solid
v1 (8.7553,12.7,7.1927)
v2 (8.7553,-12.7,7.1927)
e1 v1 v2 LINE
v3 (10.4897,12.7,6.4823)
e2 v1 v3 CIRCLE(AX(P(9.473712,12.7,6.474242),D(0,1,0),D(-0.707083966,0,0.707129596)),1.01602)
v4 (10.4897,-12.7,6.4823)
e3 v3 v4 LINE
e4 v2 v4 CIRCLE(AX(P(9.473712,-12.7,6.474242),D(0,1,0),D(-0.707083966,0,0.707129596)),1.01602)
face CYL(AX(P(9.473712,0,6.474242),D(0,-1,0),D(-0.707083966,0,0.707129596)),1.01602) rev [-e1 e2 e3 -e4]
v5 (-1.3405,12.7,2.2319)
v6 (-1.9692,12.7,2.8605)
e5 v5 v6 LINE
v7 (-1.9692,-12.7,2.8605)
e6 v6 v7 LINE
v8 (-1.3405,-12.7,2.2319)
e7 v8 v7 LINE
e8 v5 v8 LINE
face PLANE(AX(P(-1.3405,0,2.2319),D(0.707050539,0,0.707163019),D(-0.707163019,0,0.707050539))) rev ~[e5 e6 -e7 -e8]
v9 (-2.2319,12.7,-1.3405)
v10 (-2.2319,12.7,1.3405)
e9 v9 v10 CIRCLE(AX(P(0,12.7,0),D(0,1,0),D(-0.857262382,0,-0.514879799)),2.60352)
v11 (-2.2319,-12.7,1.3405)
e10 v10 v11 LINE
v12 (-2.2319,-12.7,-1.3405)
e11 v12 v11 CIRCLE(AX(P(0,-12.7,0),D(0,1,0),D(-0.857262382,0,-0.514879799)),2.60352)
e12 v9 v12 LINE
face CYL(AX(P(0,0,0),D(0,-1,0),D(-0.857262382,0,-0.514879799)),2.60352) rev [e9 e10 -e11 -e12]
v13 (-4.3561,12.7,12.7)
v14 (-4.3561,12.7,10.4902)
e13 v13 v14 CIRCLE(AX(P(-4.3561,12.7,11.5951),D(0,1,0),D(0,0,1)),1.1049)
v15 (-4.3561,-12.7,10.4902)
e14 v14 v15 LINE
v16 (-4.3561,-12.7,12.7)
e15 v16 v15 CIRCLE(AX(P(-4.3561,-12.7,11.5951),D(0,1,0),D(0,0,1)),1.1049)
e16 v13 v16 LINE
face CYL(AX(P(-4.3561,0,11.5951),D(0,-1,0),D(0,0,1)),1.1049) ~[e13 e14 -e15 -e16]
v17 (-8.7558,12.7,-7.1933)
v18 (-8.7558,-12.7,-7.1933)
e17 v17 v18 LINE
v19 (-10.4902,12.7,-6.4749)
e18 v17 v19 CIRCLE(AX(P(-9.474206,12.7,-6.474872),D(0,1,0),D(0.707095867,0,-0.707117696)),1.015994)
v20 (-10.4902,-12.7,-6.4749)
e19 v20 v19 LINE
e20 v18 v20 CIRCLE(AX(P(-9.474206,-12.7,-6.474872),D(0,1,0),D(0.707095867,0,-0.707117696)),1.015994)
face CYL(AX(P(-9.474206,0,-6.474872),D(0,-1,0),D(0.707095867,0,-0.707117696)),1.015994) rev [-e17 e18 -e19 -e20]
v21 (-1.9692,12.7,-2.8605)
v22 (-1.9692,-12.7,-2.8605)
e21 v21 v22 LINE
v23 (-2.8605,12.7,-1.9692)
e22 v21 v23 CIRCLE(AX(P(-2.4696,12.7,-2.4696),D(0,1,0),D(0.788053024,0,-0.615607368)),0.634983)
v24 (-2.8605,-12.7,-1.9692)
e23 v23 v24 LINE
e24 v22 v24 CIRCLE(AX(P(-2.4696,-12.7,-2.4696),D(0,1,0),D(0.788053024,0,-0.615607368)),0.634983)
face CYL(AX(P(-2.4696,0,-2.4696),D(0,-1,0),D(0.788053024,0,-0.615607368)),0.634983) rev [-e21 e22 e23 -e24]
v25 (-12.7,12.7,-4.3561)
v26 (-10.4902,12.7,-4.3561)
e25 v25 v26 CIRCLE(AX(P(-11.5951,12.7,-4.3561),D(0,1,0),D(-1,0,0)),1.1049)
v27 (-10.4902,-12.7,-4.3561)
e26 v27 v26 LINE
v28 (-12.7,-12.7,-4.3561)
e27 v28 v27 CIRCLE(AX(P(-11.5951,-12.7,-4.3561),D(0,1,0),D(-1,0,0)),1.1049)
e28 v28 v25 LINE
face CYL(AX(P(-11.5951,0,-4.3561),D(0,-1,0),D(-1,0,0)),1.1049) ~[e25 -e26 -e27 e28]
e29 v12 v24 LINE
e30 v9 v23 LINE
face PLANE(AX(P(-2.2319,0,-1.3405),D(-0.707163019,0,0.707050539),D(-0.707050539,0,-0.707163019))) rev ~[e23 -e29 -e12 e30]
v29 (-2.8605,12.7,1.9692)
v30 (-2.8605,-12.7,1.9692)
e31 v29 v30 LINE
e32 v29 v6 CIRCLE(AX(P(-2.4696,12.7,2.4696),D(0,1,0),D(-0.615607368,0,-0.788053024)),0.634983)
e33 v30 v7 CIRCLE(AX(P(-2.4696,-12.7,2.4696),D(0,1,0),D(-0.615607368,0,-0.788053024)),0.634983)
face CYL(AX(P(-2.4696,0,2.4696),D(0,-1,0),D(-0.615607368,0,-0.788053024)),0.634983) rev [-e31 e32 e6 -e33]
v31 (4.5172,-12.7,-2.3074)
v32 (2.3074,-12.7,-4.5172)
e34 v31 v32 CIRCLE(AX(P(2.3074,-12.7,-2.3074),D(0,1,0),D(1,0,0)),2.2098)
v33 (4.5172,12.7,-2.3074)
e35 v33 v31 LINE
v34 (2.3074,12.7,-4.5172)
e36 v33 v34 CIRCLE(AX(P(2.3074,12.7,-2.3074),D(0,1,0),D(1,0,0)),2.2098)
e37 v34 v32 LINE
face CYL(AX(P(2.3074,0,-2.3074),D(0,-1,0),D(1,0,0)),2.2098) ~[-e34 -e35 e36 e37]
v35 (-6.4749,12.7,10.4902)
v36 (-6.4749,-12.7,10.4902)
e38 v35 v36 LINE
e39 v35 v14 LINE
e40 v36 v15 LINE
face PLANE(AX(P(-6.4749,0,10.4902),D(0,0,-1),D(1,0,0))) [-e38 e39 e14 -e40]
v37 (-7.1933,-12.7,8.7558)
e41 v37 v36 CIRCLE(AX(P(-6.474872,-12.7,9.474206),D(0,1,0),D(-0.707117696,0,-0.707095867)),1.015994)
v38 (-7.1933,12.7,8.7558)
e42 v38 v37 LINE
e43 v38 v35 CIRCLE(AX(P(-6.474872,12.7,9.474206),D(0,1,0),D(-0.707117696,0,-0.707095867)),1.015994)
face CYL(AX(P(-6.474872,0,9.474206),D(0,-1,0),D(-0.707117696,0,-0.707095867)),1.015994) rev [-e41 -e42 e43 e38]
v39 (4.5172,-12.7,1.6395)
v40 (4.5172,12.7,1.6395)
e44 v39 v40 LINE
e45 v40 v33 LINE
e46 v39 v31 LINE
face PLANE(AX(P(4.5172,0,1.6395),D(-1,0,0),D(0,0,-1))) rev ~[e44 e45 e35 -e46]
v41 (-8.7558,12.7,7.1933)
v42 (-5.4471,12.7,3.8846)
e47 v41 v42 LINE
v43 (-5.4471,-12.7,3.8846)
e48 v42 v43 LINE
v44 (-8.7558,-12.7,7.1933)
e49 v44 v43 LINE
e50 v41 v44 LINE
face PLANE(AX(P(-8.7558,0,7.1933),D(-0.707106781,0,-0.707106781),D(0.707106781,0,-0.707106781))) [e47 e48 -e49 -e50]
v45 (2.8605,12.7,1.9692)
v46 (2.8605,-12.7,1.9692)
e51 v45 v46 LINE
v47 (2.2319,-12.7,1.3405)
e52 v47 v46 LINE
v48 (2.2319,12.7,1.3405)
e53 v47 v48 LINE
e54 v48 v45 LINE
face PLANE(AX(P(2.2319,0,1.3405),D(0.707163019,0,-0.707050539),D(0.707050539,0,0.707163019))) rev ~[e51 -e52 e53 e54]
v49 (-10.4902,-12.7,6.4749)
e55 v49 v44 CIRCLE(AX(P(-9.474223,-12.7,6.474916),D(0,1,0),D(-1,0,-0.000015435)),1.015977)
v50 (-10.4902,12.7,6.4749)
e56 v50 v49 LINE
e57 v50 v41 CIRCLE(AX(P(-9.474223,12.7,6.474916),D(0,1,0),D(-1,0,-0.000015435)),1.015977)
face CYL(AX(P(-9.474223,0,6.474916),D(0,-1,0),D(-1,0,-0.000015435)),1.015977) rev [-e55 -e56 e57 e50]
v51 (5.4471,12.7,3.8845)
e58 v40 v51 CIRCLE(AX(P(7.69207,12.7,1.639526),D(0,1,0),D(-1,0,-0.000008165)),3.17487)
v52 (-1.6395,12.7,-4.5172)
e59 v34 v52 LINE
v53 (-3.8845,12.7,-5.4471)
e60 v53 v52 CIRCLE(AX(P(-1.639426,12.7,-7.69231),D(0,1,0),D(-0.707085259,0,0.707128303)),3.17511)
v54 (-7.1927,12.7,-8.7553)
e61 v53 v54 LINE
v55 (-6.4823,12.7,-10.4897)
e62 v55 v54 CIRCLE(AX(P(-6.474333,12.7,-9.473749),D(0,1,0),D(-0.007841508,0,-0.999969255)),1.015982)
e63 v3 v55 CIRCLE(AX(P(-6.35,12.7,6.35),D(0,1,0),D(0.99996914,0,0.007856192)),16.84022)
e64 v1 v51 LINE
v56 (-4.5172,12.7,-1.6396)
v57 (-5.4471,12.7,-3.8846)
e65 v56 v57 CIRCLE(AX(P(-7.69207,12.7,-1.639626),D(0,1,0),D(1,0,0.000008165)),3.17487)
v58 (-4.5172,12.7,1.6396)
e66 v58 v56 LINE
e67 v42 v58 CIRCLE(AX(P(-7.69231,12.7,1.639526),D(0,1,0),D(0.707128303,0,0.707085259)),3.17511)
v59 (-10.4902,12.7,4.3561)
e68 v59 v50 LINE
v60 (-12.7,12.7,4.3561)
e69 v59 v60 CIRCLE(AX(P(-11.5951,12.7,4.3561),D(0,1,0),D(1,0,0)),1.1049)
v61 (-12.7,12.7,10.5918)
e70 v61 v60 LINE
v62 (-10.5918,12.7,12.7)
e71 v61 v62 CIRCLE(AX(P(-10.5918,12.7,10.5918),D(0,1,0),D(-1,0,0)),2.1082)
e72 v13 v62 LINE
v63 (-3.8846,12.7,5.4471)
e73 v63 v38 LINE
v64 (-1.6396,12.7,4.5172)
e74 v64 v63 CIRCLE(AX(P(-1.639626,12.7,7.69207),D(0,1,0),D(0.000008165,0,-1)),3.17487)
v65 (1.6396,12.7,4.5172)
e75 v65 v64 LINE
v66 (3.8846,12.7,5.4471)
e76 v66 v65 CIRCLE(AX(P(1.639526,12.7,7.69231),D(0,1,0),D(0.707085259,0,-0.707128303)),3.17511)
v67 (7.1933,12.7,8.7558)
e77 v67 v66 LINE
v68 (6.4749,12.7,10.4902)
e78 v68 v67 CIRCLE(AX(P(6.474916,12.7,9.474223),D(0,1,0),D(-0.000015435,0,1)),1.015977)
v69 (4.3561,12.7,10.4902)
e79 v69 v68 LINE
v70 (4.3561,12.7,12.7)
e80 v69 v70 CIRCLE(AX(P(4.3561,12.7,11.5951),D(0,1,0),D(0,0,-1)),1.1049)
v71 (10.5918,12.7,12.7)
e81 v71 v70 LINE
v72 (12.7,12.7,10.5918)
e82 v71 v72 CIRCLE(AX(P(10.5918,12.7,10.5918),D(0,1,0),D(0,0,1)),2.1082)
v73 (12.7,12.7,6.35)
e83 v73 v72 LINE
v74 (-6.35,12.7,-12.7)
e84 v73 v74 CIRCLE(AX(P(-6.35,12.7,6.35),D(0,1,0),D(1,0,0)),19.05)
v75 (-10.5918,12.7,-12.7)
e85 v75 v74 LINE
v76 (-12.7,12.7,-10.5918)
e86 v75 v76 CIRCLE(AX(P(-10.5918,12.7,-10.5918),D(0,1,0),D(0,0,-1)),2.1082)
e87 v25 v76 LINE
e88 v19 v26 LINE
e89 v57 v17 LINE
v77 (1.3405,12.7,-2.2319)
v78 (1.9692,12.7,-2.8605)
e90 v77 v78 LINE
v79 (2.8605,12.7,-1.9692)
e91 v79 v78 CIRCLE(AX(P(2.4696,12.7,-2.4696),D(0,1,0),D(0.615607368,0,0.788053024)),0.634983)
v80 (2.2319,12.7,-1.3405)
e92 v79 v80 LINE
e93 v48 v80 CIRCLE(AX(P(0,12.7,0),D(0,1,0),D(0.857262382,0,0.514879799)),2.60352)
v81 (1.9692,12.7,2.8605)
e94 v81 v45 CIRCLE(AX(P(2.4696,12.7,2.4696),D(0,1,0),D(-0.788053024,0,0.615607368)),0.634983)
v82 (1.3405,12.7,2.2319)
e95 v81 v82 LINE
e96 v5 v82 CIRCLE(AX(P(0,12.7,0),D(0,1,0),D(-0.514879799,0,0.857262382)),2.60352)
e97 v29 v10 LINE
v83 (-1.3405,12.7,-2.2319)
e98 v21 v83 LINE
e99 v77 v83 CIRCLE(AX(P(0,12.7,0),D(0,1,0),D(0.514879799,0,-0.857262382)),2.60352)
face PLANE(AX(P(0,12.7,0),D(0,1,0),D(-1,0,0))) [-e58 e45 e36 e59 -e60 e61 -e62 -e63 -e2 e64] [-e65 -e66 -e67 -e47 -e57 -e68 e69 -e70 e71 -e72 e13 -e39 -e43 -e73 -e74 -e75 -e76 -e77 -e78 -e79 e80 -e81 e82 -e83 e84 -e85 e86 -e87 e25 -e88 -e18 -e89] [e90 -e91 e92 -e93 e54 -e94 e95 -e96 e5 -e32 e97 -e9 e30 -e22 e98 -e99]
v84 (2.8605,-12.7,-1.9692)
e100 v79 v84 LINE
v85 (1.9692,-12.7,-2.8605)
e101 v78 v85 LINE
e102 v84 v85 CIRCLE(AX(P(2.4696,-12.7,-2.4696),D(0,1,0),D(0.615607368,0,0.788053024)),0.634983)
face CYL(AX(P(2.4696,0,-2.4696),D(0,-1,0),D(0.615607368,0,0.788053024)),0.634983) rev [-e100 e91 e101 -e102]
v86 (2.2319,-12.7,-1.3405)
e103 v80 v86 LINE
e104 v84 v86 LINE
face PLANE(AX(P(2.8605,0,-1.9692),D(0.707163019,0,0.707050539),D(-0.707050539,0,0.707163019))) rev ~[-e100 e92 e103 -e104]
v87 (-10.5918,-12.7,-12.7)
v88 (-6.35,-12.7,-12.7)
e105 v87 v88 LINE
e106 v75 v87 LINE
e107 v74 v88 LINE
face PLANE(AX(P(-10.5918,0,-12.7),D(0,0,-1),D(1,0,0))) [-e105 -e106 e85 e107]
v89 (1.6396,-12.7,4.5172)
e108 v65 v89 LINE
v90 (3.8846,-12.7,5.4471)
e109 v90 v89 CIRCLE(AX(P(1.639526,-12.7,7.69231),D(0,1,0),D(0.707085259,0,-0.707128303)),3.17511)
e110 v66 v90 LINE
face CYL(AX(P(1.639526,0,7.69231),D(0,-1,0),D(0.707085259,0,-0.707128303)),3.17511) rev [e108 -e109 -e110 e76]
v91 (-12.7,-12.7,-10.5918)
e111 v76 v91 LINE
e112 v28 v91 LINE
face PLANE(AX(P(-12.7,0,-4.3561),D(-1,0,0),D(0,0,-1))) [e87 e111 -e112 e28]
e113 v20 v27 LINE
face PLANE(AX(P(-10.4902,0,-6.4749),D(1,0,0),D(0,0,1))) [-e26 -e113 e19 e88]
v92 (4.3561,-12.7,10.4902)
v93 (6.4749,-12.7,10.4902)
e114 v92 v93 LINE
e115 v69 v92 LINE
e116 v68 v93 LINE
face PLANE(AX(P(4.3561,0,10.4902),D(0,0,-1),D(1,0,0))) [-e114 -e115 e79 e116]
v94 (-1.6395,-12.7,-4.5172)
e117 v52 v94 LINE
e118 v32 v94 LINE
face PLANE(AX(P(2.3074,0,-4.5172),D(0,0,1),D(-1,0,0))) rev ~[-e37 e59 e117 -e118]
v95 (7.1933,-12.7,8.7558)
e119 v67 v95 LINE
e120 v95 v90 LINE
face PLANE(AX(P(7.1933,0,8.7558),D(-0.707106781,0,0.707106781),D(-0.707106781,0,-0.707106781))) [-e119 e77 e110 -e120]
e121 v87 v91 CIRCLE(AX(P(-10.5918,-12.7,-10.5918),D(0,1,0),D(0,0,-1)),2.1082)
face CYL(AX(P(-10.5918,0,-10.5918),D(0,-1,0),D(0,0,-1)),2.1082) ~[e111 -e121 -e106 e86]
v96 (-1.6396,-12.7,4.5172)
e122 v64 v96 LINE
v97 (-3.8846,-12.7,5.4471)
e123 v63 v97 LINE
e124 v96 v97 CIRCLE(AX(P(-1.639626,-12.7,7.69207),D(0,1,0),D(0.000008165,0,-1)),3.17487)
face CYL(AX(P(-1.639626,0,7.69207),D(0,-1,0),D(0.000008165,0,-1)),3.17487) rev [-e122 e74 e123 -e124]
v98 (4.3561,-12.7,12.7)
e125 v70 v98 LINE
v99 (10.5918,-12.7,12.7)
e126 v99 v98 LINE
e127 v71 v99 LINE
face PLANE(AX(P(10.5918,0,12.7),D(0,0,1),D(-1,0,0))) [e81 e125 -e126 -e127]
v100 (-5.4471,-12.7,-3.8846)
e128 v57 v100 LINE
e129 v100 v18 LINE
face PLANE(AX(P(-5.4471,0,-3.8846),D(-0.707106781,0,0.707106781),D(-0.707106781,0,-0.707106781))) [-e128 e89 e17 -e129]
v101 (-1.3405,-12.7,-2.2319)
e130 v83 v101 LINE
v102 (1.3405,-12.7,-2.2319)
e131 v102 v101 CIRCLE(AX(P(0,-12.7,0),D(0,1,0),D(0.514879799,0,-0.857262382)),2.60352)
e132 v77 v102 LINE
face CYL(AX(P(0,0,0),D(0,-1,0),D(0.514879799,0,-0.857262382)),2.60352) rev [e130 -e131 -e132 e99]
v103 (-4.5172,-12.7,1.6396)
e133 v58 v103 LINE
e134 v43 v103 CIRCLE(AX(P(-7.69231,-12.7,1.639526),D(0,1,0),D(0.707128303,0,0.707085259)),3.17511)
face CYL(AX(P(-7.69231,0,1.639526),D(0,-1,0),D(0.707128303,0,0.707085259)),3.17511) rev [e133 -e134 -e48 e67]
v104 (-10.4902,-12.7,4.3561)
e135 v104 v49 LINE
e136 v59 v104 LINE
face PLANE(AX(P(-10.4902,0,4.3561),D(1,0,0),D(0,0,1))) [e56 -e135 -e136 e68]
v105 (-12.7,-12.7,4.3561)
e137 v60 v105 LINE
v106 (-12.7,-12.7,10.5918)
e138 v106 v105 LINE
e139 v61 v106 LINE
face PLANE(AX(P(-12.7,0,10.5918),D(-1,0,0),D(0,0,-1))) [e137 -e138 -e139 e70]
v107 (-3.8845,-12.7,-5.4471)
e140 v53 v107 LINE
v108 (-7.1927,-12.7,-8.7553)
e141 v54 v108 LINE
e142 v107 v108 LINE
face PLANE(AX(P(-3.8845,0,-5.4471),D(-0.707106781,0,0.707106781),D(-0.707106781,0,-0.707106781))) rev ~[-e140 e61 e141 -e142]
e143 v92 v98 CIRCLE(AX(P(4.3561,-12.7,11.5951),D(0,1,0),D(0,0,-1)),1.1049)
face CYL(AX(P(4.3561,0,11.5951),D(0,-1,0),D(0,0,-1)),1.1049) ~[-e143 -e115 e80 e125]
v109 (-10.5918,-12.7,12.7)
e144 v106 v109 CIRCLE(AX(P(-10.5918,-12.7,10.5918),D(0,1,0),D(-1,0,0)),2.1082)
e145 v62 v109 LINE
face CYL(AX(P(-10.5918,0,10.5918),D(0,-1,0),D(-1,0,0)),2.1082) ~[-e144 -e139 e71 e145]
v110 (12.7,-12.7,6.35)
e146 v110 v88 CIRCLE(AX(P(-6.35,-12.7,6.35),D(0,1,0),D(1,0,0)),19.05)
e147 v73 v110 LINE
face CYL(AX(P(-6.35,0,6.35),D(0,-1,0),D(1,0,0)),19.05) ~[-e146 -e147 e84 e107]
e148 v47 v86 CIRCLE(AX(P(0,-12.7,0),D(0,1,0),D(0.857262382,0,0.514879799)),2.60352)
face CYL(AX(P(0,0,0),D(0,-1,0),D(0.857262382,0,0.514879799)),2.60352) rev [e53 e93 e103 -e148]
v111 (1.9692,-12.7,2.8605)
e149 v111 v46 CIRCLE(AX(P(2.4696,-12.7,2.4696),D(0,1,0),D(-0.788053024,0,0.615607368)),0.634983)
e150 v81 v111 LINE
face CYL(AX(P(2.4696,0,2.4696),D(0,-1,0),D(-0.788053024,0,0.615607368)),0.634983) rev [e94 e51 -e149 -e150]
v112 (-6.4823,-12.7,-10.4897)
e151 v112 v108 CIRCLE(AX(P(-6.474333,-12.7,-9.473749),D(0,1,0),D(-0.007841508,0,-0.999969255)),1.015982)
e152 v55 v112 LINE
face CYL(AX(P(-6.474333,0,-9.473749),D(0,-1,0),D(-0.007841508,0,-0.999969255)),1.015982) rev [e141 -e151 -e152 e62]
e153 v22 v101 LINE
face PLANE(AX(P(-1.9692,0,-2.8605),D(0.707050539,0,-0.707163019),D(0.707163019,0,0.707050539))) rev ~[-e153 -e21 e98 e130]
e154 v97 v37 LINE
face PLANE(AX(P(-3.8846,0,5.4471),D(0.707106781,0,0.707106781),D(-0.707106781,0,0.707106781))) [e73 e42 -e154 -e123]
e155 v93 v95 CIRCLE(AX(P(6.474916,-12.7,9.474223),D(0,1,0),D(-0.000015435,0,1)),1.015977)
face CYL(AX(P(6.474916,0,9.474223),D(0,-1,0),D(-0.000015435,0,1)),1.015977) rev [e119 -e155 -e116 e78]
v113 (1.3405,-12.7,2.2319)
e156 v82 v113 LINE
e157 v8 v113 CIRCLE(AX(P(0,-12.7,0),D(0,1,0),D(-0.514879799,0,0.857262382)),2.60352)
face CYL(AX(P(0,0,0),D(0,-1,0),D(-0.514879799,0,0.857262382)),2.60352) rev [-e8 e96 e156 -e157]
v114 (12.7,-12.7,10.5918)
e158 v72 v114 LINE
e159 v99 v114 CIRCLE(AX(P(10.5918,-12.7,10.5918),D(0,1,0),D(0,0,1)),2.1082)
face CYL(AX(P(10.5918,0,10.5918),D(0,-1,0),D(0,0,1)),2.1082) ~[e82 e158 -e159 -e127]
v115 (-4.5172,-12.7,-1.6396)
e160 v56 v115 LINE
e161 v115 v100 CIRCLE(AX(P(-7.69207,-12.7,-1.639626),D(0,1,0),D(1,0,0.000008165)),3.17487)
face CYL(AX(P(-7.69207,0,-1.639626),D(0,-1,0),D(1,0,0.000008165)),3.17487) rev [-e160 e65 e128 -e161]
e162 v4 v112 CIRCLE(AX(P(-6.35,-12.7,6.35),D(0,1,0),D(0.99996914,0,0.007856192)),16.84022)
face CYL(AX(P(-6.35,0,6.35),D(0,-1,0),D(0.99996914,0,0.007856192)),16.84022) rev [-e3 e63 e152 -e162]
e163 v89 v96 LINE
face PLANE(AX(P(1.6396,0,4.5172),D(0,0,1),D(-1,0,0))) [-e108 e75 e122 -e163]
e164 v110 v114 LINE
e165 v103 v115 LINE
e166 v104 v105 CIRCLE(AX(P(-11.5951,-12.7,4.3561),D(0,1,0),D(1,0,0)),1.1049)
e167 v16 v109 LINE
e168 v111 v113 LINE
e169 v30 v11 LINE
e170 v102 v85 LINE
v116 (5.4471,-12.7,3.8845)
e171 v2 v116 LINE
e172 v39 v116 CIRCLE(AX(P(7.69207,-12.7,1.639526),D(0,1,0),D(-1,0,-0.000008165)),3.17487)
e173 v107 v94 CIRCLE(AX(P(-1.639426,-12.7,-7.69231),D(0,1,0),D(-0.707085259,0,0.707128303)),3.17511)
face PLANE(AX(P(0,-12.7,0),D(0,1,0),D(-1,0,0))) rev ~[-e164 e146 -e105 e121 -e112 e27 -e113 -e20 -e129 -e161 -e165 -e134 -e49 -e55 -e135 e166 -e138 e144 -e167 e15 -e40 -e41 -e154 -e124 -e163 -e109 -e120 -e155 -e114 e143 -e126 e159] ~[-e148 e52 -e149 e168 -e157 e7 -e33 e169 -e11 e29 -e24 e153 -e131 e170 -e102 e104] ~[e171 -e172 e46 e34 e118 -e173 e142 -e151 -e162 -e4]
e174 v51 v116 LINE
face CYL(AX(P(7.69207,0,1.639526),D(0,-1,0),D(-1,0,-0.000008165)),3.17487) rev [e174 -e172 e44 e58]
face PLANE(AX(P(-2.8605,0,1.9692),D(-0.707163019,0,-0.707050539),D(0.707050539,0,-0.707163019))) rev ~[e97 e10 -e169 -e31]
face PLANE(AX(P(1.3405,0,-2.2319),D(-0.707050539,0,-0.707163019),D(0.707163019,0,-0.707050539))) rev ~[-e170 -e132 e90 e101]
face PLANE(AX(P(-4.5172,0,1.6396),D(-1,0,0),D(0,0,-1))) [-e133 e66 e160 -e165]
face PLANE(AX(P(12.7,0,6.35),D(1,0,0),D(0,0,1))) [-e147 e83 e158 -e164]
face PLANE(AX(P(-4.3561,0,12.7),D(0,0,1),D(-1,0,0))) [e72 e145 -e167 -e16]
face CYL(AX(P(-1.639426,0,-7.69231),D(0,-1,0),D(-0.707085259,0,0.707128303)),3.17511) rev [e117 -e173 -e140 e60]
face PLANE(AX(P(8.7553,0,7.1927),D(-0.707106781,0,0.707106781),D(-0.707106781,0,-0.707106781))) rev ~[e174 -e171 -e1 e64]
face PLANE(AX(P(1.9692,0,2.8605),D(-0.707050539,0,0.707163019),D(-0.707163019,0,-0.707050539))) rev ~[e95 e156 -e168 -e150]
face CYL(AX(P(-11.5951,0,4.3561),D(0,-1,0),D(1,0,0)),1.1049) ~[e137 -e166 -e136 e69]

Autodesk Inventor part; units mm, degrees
ref_plane "YZ Plane" through (0, 0, 0) normal (1, 0, 0) x (0, 1, 0)
ref_plane "XZ Plane" through (0, 0, 0) normal (0, 1, 0) x (-1, 0, 0)
ref_plane "XY Plane" through (0, 0, 0) normal (0, 0, 1) x (1, 0, 0)
sketch "Sketch1" plane through (0, 0, 0) normal (0, 1, 0) x (-1, 0, 0)
  arc A0 (-4.5172, 1.6395) -> (-5.4471, 3.8845) centre (-7.6922, 1.6395) ccw
  line L0 (-8.7553, 7.1927) -> (-5.4471, 3.8845)
  arc A1 (-8.7553, 7.1927) -> (-10.4897, 6.4823) centre (-9.4737, 6.4743) ccw
  arc A2 (-10.4897, 6.4823) -> (6.4823, -10.4897) centre (6.35, 6.35) ccw
  arc A3 (6.4823, -10.4897) -> (7.1927, -8.7553) centre (6.4743, -9.4737) ccw
  line L1 (3.8845, -5.4471) -> (7.1927, -8.7553)
  arc A4 (3.8845, -5.4471) -> (1.6395, -4.5172) centre (1.6395, -7.6922) ccw
  line L2 (-2.3074, -4.5172) -> (1.6395, -4.5172)
  arc A5 (-4.5172, -2.3074) -> (-2.3074, -4.5172) centre (-2.3074, -2.3074) ccw
  line L3 (-4.5172, 1.6395) -> (-4.5172, -2.3074)
  arc A6 (-2.2319, 1.3405) -> (-2.2319, -1.3405) centre (0, 0) ccw
  line L4 (-2.8605, -1.9692) -> (-2.2319, -1.3405)
  arc A7 (-2.8605, -1.9692) -> (-1.9692, -2.8605) centre (-2.4696, -2.4696) ccw
  line L5 (-1.3405, -2.2319) -> (-1.9692, -2.8605)
  arc A8 (-1.3405, -2.2319) -> (1.3405, -2.2319) centre (0, 0) ccw
  line L6 (1.9692, -2.8605) -> (1.3405, -2.2319)
  arc A9 (1.9692, -2.8605) -> (2.8605, -1.9692) centre (2.4696, -2.4696) ccw
  line L7 (2.2319, -1.3405) -> (2.8605, -1.9692)
  arc A10 (2.2319, -1.3405) -> (2.2319, 1.3405) centre (0, 0) ccw
  line L8 (2.8605, 1.9692) -> (2.2319, 1.3405)
  arc A11 (2.8605, 1.9692) -> (1.9692, 2.8605) centre (2.4696, 2.4696) ccw
  line L9 (1.3405, 2.2319) -> (1.9692, 2.8605)
  arc A12 (1.3405, 2.2319) -> (-1.3405, 2.2319) centre (0, 0) ccw
  line L10 (-1.9692, 2.8605) -> (-1.3405, 2.2319)
  arc A13 (-1.9692, 2.8605) -> (-2.8605, 1.9692) centre (-2.4696, 2.4696) ccw
  line L11 (-2.2319, 1.3405) -> (-2.8605, 1.9692)
  arc A14 (12.7, -4.3561) -> (10.4902, -4.3561) centre (11.5951, -4.3561) ccw
  line L12 (12.7, -4.3561) -> (12.7, -10.5918)
  arc A15 (10.5918, -12.7) -> (12.7, -10.5918) centre (10.5918, -10.5918) ccw
  line L13 (10.5918, -12.7) -> (6.35, -12.7)
  arc A16 (-12.7, 6.35) -> (6.35, -12.7) centre (6.35, 6.35) ccw
  line L14 (-12.7, 6.35) -> (-12.7, 10.5918)
  arc A17 (-10.5918, 12.7) -> (-12.7, 10.5918) centre (-10.5918, 10.5918) ccw
  line L15 (-10.5918, 12.7) -> (-4.3561, 12.7)
  arc A18 (-4.3561, 10.4902) -> (-4.3561, 12.7) centre (-4.3561, 11.5951) ccw
  line L16 (-4.3561, 10.4902) -> (-6.4749, 10.4902)
  arc A19 (-6.4749, 10.4902) -> (-7.1933, 8.7558) centre (-6.4749, 9.4742) ccw
  line L17 (-7.1933, 8.7558) -> (-3.8846, 5.4471)
  arc A20 (-3.8846, 5.4471) -> (-1.6396, 4.5172) centre (-1.6396, 7.6922) ccw
  line L18 (-1.6396, 4.5172) -> (1.6396, 4.5172)
  arc A21 (1.6396, 4.5172) -> (3.8846, 5.4471) centre (1.6396, 7.6922) ccw
  line L19 (3.8846, 5.4471) -> (7.1933, 8.7558)
  arc A22 (7.1933, 8.7558) -> (6.4749, 10.4902) centre (6.4749, 9.4742) ccw
  line L20 (6.4749, 10.4902) -> (4.3561, 10.4902)
  arc A23 (4.3561, 12.7) -> (4.3561, 10.4902) centre (4.3561, 11.5951) ccw
  line L21 (4.3561, 12.7) -> (10.5918, 12.7)
  arc A24 (12.7, 10.5918) -> (10.5918, 12.7) centre (10.5918, 10.5918) ccw
  line L22 (12.7, 10.5918) -> (12.7, 4.3561)
  arc A25 (10.4902, 4.3561) -> (12.7, 4.3561) centre (11.5951, 4.3561) ccw
  line L23 (10.4902, 4.3561) -> (10.4902, 6.4749)
  arc A26 (10.4902, 6.4749) -> (8.7558, 7.1933) centre (9.4742, 6.4749) ccw
  line L24 (8.7558, 7.1933) -> (5.4471, 3.8846)
  arc A27 (5.4471, 3.8846) -> (4.5172, 1.6396) centre (7.6922, 1.6396) ccw
  line L25 (4.5172, 1.6396) -> (4.5172, -1.6396)
  arc A28 (4.5172, -1.6396) -> (5.4471, -3.8846) centre (7.6922, -1.6396) ccw
  line L26 (5.4471, -3.8846) -> (8.7558, -7.1933)
  arc A29 (8.7558, -7.1933) -> (10.4902, -6.4749) centre (9.4742, -6.4749) ccw
  line L27 (10.4902, -6.4749) -> (10.4902, -4.3561)
  point P0 (0, 0)
  dimension "d0" = 1.1049
  dimension "d1" = 2.1082
  dimension "d2" = 1.016
  dimension "d3" = 3.175
  dimension "d4" = 19.05
  dimension "d5" = 16.8402
  dimension "d6" = 0.635
  dimension "d7" = 2.6035
  dimension "d8" = 2.6035
  dimension "d9" = 2.6035
  dimension "d10" = 2.6035
  dimension "d11" = 2.2098
  dimension "d12" = 45
  dimension "d13" = 45
  dimension "d14" = 45
  dimension "d15" = 45
  dimension "d16" = 45
  dimension "d17" = 45
  dimension "d18" = 90
  dimension "d19" = 45
  dimension "d20" = 90
  dimension "d21" = 90
  dimension "d22" = 90
  dimension "d23" = 8.1828
  dimension "d24" = 17.2172
  dimension "d25" = 25.4
  dimension "d26" = 25.4
  dimension "d27" = 17.2172
  dimension "d28" = 8.1828
  dimension "d29" = 2.2096
  dimension "d30" = 1.7351
  dimension "d31" = 0.4746
  dimension "d32" = 1.7352
  dimension "d33" = 0.4746
  dimension "d34" = 2.2097
  dimension "d35" = 12.7
  dimension "d36" = 12.7
  dimension "d37" = 10.4902
  dimension "d38" = 12.7
  dimension "d39" = 1.1048
  dimension "d40" = 1.1048
  dimension "d41" = 1.1049
  dimension "d42" = 0.6303
  dimension "d43" = 0.6303
  dimension "d44" = 0.6303
  dimension "d45" = 0.6303
  dimension "d46" = 10.4902
  dimension "d47" = 1.1049
  dimension "d48" = 12.7
  dimension "d49" = 17.0561
  dimension "d50" = 8.3439
  dimension "d51" = 8.3439
  dimension "d52" = 9.8395
  dimension "d53" = 9.8395
  dimension "d54" = 10.2304
  dimension "d55" = 10.2304
  dimension "d56" = 10.4681
  dimension "d57" = 10.4681
  dimension "d58" = 14.6692
  dimension "d59" = 14.6692
  dimension "d60" = 15.1696
  dimension "d61" = 15.1696
  dimension "d62" = 17.0561
extrude "Extrusion1" add sketch "Sketch1" along normal mid plane 25.4
properties part number "1012-S-BLACK-FB" material "6105-T5"
